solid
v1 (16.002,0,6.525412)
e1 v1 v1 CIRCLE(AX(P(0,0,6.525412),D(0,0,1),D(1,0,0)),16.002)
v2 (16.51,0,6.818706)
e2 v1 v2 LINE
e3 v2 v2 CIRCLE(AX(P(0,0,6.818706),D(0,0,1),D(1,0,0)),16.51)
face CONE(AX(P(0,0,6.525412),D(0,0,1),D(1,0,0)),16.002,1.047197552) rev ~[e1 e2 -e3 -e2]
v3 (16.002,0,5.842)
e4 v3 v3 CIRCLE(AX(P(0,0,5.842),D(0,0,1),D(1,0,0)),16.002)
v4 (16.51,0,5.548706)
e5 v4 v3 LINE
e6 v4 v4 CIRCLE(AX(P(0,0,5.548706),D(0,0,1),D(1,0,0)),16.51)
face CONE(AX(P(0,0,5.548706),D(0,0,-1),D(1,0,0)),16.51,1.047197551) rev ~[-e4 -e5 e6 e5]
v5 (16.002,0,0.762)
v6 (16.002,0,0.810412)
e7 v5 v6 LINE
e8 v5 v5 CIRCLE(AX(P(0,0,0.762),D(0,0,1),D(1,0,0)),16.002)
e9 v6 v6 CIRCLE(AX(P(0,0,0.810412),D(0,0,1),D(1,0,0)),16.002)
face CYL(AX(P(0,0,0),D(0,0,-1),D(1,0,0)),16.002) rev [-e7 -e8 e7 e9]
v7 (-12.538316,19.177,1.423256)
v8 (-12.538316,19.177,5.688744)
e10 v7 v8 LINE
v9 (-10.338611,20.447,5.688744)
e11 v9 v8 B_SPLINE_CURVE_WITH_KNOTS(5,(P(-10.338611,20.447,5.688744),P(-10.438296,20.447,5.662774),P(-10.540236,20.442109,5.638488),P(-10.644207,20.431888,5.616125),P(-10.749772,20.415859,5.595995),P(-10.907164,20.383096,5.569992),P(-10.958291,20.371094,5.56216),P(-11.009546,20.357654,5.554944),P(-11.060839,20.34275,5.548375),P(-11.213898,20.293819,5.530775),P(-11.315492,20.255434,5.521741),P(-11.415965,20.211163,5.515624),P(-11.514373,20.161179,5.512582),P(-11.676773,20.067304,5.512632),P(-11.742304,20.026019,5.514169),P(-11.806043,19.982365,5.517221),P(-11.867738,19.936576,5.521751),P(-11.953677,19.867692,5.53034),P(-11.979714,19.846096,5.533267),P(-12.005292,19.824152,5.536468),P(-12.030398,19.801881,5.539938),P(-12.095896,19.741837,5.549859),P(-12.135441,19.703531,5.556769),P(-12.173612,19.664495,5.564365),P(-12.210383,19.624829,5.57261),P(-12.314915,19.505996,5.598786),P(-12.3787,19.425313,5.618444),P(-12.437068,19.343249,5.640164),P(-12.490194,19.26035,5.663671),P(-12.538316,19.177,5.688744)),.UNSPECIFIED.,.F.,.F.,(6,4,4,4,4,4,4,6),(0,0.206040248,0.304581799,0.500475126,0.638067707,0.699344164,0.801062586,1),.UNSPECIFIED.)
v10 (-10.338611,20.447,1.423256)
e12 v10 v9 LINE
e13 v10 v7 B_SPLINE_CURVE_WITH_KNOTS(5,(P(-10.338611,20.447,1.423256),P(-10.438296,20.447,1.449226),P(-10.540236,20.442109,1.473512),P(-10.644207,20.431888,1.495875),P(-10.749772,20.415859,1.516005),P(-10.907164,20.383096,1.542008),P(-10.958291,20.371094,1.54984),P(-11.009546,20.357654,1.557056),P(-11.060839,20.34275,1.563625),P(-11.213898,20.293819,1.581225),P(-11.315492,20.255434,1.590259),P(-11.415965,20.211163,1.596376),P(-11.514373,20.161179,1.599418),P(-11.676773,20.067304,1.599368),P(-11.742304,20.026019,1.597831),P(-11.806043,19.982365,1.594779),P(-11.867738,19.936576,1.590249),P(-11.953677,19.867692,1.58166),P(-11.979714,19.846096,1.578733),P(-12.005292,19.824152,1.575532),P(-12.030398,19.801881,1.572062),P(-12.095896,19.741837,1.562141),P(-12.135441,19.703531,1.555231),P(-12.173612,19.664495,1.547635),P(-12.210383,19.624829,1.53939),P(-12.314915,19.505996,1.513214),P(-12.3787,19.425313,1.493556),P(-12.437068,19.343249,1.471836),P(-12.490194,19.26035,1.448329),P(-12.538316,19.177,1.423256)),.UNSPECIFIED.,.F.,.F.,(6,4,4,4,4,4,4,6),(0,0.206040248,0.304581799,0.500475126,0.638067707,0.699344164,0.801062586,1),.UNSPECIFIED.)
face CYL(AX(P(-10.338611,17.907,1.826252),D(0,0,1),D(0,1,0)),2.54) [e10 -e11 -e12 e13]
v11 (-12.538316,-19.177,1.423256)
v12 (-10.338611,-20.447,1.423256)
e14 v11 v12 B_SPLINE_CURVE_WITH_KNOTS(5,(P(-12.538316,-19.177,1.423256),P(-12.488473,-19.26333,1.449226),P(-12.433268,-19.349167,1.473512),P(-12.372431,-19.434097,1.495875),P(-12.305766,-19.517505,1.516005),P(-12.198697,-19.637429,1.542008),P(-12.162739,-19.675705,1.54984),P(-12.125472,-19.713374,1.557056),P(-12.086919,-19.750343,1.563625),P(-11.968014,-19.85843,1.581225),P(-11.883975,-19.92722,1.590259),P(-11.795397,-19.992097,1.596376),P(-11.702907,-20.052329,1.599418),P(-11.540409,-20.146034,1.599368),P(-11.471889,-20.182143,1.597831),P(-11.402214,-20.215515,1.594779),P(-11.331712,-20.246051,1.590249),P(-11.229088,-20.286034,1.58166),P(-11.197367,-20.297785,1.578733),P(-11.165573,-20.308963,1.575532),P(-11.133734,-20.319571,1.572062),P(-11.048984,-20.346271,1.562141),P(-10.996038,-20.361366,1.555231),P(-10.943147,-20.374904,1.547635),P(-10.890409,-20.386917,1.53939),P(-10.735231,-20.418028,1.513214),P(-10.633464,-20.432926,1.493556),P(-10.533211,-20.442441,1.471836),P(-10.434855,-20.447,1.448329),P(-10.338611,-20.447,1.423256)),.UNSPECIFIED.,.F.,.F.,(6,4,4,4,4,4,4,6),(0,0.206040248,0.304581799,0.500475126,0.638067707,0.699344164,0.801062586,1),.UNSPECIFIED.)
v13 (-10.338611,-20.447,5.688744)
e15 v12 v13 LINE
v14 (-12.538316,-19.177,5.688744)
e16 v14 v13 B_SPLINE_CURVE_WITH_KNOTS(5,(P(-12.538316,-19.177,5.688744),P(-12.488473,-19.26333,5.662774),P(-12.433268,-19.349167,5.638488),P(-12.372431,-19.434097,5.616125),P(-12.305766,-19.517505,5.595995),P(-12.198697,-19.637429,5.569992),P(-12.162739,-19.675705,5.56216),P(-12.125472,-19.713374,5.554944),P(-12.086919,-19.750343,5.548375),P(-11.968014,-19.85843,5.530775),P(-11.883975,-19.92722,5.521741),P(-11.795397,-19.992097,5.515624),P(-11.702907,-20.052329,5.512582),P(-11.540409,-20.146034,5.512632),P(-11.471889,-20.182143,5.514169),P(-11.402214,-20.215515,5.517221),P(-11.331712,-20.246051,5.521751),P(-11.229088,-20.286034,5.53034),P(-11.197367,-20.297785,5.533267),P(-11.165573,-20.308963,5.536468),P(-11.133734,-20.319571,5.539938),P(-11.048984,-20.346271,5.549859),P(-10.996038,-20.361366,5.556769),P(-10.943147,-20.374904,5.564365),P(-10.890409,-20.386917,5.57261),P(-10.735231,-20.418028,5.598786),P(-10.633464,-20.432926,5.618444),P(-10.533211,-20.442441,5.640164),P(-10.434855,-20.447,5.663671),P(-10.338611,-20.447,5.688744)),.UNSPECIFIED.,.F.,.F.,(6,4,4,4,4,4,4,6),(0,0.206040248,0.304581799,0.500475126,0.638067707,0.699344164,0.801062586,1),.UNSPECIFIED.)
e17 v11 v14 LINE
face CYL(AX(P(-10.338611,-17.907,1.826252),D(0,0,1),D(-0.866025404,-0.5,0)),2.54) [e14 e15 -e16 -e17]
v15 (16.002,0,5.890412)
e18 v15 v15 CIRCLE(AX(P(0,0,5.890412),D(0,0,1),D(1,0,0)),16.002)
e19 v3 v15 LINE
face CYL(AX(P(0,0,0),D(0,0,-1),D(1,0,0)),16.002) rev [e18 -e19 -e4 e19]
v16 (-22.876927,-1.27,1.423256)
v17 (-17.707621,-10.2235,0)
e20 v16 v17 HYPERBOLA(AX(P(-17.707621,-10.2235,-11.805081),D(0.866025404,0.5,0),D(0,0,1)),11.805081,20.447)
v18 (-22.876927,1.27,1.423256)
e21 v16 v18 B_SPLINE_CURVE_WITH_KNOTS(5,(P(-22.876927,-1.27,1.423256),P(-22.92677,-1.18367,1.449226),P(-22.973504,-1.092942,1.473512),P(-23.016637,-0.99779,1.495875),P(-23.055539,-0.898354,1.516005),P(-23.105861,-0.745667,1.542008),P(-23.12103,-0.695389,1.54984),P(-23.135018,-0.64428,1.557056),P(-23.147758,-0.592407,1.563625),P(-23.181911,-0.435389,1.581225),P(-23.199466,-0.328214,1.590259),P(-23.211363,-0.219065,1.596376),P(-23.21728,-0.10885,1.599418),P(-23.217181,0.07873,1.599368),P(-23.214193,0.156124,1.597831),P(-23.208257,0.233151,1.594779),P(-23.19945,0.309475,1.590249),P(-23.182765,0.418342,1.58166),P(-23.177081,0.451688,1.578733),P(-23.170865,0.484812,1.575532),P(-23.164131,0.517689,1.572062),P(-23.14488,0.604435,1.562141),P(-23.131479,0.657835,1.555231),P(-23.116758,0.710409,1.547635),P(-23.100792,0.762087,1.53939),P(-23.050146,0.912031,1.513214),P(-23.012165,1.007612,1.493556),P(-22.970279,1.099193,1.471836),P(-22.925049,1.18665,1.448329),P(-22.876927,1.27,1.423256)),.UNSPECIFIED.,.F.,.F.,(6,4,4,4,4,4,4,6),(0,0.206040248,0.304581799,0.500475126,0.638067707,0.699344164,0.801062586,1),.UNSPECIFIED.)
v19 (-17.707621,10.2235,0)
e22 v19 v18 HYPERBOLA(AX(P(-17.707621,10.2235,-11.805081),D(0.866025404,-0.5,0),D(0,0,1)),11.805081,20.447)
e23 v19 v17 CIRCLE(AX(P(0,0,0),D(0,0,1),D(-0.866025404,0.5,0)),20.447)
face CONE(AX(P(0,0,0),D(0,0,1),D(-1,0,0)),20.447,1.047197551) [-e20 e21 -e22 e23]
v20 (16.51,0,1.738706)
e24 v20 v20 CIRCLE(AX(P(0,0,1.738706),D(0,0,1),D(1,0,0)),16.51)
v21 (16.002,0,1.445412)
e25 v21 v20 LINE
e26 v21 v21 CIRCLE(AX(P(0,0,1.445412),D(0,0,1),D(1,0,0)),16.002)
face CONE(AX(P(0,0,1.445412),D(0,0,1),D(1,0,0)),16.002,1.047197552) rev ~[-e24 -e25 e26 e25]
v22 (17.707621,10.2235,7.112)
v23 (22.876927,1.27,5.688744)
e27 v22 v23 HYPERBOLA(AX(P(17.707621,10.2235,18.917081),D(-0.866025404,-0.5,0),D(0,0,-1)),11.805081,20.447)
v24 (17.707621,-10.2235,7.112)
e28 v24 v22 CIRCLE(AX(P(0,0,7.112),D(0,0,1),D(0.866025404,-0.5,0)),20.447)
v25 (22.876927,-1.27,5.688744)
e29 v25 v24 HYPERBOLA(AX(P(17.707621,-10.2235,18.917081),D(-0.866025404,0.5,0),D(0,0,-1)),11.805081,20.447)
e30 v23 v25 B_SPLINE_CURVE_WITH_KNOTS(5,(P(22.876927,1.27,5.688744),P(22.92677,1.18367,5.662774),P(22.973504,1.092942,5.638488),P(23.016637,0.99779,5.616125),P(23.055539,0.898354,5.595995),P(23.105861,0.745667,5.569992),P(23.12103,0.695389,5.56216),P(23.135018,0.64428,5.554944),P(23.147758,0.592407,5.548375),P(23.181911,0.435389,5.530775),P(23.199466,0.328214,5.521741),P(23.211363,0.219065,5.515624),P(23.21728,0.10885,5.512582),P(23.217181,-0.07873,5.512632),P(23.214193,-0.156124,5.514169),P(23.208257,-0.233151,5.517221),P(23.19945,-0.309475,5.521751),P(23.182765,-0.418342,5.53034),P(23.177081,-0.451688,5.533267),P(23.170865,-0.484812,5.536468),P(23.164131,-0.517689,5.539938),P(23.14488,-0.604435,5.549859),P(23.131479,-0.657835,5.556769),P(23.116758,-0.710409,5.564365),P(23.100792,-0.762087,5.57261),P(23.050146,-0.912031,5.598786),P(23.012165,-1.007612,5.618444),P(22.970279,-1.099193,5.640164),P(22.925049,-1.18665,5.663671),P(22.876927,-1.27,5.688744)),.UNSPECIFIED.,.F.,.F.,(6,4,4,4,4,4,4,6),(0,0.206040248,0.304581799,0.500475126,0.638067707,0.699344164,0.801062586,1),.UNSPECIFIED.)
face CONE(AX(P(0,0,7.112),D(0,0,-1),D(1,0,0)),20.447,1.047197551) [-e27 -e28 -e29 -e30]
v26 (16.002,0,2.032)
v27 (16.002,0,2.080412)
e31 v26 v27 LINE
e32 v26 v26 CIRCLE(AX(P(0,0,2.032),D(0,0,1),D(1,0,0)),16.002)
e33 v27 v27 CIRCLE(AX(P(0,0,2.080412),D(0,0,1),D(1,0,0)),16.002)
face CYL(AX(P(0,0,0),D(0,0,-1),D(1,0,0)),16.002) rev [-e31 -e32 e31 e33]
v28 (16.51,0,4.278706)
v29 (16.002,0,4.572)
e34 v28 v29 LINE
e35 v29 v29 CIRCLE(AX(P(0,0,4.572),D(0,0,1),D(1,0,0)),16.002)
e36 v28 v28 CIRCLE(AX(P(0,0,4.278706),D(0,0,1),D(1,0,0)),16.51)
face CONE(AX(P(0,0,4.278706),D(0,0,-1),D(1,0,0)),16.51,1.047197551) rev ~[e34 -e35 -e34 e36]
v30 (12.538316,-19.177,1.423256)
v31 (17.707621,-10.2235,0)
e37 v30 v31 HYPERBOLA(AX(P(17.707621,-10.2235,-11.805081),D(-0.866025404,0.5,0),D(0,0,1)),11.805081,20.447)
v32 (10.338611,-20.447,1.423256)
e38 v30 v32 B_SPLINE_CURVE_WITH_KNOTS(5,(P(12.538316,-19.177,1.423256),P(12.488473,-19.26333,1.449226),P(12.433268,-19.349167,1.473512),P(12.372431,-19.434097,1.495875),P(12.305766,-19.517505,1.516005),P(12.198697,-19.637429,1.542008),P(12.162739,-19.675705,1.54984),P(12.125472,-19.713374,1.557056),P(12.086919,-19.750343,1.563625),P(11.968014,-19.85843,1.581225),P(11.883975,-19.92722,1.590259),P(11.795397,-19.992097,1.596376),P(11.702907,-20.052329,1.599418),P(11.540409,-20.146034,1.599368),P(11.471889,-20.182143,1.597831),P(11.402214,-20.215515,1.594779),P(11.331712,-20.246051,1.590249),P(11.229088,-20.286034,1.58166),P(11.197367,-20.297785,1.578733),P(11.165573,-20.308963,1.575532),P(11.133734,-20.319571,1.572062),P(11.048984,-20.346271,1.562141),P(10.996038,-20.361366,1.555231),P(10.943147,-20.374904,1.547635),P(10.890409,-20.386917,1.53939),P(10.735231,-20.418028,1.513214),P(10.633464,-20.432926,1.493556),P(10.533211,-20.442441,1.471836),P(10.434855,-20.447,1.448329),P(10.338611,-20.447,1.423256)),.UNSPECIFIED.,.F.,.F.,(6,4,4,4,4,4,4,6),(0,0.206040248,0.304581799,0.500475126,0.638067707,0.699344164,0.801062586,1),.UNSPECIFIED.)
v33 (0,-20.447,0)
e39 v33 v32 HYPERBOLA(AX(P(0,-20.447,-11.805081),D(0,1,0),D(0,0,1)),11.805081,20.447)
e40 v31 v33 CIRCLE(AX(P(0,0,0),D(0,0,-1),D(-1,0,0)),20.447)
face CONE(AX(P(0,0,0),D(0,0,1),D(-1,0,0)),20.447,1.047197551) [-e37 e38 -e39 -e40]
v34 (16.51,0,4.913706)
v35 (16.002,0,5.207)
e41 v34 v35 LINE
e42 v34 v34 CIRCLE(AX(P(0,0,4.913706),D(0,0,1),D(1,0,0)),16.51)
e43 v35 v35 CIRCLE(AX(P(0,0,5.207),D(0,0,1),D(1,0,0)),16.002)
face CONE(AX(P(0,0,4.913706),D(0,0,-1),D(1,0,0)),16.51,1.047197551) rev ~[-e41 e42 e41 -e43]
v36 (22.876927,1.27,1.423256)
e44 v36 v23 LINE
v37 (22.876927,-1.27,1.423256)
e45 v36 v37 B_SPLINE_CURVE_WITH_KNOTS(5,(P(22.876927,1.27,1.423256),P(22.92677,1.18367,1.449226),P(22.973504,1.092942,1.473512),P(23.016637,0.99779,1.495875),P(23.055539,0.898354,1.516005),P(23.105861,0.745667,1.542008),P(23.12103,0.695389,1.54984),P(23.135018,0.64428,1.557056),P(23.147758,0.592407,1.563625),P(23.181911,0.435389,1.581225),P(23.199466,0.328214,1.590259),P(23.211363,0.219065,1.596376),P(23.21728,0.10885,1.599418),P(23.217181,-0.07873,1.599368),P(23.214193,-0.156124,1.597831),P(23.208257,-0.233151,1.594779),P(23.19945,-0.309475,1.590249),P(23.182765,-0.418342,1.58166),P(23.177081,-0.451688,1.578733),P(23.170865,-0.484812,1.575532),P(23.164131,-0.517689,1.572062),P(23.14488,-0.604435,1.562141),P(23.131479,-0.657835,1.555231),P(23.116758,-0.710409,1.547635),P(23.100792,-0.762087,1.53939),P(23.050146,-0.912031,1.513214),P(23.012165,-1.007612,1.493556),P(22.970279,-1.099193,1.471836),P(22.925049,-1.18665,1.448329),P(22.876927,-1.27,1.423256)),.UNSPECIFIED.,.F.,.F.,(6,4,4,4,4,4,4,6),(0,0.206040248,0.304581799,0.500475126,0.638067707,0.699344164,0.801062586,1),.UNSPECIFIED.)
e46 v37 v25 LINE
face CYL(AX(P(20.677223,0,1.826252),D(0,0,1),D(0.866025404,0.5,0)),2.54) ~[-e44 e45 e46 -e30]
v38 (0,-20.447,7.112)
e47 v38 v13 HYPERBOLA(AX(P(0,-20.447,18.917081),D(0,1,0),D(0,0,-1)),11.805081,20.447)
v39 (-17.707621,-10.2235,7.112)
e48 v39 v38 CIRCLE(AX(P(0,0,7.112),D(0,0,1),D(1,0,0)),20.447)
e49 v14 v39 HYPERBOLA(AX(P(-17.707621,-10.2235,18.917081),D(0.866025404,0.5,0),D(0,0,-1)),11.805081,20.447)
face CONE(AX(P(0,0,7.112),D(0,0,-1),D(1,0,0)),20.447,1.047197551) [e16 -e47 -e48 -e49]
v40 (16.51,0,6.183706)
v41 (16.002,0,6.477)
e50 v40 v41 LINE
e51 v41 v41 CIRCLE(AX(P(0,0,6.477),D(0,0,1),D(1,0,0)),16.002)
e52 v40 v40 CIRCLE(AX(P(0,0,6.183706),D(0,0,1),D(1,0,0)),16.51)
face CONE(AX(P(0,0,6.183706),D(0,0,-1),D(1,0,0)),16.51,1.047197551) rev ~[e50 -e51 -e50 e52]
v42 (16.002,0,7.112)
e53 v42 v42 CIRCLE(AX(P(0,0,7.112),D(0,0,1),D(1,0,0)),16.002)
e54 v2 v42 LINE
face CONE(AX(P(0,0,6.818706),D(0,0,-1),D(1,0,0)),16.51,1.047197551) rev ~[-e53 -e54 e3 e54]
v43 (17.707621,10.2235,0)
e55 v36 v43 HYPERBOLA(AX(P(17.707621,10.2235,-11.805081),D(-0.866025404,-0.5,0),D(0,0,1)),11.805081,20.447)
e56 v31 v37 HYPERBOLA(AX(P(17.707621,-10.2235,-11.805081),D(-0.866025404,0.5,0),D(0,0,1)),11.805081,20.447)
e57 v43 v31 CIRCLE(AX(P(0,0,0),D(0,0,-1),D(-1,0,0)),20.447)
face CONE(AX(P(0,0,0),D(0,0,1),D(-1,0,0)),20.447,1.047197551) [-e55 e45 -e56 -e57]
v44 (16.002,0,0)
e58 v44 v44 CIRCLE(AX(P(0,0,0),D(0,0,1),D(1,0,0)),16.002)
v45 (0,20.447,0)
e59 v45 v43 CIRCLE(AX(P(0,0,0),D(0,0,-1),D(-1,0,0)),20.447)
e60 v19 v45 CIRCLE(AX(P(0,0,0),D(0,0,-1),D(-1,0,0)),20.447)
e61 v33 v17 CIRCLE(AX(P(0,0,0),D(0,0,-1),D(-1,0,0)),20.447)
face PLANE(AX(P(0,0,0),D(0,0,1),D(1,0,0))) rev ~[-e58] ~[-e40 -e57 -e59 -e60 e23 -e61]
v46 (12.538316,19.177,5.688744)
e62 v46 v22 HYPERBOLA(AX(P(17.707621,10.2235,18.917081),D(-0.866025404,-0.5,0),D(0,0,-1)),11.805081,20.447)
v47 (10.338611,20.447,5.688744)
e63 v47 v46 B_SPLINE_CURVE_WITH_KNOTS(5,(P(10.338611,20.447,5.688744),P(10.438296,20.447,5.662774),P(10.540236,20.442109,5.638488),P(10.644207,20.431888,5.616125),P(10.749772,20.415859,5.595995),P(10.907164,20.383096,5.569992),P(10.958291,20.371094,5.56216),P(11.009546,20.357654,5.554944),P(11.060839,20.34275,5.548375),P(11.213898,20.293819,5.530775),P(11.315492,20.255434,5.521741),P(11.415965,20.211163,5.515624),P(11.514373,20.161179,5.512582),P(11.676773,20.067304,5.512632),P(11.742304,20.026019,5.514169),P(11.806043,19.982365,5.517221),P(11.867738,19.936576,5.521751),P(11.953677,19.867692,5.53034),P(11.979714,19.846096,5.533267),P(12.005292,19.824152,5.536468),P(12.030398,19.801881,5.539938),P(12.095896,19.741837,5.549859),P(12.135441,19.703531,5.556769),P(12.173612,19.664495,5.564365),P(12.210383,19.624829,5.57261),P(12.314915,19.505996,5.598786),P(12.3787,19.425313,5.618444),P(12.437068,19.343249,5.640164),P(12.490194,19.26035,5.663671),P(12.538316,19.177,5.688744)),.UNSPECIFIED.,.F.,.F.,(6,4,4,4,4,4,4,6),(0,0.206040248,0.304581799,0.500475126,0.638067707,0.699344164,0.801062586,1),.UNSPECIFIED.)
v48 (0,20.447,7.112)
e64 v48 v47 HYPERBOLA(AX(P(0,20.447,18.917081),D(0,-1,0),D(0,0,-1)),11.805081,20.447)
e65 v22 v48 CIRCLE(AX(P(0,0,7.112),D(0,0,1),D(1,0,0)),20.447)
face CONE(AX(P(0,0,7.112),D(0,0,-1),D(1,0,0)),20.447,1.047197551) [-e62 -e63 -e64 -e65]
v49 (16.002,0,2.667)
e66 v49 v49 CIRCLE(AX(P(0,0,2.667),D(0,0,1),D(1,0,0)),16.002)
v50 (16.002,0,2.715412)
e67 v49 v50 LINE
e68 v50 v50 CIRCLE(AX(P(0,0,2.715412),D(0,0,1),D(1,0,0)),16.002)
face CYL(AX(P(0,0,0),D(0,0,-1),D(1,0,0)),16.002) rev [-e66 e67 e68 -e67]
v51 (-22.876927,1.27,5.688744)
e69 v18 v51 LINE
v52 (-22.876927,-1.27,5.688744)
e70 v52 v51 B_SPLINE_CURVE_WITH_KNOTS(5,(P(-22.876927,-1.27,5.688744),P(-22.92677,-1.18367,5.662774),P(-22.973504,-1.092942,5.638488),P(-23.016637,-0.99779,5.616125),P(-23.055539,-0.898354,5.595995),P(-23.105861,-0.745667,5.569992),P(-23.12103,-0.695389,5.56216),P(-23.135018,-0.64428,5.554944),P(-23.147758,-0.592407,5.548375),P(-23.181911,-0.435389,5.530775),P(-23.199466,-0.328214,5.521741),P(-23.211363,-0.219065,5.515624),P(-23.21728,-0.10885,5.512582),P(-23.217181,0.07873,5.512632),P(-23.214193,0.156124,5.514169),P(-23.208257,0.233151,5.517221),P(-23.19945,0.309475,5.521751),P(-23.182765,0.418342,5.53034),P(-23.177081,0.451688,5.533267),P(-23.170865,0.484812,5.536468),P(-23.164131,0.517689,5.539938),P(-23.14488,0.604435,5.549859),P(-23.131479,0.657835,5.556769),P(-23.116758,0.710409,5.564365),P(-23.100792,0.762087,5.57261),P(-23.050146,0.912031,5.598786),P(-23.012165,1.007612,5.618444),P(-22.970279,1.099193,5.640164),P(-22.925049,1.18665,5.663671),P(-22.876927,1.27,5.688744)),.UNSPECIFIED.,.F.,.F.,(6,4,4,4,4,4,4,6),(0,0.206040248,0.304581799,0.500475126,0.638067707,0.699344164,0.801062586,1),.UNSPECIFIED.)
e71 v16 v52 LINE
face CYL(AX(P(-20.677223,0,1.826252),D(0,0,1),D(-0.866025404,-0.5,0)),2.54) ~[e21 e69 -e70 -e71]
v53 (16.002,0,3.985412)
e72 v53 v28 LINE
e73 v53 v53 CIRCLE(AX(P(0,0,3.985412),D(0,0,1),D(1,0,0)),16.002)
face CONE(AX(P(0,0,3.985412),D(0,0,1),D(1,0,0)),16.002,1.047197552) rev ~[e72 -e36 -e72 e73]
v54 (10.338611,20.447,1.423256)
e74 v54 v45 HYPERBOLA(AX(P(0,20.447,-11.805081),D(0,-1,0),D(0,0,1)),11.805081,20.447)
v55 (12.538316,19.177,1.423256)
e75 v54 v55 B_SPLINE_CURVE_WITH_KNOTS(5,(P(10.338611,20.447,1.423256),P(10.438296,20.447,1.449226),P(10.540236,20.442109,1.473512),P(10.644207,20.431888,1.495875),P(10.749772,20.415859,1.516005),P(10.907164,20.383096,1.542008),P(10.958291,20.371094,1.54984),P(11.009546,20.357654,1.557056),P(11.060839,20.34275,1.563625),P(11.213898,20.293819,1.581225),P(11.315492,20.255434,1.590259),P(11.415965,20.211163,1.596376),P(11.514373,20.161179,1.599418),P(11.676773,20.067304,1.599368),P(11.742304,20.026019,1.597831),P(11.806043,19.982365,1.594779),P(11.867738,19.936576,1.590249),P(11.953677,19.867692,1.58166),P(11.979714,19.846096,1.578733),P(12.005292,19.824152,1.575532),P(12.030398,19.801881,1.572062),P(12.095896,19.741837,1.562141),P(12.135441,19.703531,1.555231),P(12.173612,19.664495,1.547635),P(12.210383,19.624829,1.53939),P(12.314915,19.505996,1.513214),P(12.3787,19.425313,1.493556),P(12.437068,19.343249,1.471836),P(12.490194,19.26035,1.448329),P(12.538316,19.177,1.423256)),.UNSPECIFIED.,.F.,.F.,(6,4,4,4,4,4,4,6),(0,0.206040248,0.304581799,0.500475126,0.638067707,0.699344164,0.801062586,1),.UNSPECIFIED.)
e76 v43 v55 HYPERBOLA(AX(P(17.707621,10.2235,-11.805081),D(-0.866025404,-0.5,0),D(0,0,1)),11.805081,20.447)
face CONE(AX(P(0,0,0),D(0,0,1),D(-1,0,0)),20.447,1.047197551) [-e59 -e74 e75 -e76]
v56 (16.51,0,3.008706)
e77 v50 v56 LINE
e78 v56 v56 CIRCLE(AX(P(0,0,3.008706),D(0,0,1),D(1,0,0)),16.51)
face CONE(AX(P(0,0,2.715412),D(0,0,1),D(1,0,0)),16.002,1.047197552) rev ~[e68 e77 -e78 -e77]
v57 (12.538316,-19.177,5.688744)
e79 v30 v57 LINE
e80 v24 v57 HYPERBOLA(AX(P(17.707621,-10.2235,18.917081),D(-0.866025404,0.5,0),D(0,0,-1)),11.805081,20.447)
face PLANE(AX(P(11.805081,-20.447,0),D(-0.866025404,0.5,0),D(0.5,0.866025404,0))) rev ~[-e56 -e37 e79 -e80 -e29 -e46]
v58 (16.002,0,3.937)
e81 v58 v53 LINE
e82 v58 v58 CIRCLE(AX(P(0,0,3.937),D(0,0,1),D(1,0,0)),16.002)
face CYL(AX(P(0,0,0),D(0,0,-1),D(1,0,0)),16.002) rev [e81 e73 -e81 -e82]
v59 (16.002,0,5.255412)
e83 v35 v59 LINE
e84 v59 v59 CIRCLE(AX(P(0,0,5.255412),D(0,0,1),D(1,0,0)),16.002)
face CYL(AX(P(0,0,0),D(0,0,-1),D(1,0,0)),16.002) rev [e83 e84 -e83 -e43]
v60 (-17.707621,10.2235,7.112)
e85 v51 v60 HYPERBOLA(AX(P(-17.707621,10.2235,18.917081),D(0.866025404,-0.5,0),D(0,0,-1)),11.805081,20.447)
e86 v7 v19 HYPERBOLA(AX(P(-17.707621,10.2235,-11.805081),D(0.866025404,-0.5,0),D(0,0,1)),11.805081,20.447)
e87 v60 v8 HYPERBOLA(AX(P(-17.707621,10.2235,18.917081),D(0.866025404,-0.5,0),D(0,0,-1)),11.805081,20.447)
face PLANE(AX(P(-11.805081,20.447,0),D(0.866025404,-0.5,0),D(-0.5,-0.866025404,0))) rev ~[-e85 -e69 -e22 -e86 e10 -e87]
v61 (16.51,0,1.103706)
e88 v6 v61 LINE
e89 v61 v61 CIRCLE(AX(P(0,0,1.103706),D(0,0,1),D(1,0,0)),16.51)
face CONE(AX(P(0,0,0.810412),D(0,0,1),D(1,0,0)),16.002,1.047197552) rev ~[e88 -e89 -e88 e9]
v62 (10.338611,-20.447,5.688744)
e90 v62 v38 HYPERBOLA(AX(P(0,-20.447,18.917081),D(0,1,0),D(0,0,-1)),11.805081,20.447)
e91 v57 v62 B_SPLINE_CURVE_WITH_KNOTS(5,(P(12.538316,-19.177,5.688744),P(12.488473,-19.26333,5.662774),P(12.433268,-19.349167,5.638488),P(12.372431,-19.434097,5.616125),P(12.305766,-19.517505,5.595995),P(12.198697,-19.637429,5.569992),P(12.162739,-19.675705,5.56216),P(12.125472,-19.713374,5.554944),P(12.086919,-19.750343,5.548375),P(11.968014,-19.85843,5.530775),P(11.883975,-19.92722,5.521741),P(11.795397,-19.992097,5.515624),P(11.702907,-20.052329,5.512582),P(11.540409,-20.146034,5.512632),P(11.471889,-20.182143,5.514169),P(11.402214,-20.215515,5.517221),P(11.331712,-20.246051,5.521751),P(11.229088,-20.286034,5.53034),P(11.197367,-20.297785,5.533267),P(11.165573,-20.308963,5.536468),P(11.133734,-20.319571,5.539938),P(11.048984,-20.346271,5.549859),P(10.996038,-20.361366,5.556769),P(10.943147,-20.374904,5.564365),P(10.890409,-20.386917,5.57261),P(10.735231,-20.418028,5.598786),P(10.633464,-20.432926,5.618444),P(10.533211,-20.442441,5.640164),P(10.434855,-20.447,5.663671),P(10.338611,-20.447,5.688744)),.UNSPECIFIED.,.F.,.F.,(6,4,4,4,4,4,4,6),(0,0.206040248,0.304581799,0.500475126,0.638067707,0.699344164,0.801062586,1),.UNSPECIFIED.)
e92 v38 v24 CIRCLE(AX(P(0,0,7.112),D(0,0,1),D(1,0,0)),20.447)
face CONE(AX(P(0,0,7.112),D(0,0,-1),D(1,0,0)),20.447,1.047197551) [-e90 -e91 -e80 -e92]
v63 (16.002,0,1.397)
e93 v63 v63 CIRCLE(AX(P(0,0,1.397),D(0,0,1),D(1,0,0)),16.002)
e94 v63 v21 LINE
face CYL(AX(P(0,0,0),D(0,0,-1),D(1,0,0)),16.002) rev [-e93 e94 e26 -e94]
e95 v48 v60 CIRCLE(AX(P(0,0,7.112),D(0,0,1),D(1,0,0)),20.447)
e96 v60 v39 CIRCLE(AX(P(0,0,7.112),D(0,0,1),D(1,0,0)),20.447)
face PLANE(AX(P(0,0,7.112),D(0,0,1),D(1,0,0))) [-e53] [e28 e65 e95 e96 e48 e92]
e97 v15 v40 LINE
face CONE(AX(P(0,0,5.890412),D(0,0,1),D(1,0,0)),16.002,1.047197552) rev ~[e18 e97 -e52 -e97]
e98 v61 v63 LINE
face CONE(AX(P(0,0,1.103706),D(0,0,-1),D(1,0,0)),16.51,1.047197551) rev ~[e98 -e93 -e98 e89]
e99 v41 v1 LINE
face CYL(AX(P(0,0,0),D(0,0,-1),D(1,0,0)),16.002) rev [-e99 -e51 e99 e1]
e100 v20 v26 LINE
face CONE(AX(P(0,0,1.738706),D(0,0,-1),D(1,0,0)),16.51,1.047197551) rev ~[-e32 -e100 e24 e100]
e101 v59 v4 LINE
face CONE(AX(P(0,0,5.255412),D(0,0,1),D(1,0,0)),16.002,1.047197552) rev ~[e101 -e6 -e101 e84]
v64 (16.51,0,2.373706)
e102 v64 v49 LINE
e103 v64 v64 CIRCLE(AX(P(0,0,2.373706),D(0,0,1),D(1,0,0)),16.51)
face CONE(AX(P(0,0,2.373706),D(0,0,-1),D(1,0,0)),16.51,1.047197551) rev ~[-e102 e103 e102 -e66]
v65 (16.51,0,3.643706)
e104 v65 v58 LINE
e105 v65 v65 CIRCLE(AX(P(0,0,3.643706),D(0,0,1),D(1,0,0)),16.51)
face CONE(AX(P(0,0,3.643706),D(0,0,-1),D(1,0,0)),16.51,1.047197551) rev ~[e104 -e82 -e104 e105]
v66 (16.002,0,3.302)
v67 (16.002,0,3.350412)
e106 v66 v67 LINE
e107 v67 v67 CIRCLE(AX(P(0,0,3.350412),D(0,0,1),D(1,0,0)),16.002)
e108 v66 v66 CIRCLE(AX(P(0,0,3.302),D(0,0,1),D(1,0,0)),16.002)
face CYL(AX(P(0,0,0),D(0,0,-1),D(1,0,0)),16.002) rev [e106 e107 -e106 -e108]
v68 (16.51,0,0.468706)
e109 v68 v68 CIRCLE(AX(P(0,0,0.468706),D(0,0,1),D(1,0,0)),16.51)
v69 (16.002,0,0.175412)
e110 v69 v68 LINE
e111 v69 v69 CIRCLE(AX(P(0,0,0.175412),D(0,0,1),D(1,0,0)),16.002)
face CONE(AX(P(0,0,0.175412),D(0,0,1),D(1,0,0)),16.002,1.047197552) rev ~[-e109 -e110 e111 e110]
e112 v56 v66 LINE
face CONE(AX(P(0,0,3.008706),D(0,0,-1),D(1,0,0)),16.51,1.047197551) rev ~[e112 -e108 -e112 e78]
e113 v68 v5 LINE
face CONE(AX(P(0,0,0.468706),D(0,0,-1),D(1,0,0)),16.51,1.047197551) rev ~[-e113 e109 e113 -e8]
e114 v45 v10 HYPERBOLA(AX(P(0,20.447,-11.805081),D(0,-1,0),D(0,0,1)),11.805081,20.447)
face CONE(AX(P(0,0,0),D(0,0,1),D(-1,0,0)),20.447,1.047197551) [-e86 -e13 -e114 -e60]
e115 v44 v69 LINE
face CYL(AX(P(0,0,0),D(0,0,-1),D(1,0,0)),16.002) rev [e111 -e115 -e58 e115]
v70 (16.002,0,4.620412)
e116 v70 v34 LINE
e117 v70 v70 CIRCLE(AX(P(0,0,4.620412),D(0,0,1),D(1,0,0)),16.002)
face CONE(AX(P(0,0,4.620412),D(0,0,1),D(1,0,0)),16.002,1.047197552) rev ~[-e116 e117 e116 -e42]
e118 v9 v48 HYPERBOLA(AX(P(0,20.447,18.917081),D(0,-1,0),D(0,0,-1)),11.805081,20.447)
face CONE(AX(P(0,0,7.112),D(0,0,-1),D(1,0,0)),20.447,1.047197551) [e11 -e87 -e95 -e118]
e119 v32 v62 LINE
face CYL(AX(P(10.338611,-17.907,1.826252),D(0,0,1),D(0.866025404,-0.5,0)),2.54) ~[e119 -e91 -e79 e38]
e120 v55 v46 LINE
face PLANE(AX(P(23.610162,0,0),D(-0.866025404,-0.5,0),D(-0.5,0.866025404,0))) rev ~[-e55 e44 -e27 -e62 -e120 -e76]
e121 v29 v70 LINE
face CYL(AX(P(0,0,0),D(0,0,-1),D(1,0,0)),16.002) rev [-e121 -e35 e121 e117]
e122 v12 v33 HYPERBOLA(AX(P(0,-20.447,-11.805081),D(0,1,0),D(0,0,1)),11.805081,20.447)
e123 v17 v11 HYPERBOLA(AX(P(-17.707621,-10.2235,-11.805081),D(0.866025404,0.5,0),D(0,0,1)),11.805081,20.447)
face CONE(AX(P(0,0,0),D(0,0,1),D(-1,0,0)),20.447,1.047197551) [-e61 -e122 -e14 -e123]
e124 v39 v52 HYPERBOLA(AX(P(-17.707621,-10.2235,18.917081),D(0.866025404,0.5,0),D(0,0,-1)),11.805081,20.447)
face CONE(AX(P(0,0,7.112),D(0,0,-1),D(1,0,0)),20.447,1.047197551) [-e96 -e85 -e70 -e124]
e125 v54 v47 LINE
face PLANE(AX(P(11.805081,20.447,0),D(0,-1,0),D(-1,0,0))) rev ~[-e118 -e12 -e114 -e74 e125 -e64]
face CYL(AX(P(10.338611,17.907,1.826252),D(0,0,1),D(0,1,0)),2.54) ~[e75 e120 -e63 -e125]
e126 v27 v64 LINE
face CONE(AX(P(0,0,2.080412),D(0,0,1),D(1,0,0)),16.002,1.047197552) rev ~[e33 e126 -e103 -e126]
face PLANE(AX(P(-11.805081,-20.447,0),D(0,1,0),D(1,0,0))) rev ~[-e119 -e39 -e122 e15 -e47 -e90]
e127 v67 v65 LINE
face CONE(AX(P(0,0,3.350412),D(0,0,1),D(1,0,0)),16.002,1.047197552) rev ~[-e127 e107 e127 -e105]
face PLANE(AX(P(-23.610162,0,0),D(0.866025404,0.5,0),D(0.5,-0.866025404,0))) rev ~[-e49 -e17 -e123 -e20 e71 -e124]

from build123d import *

# Parameters (mm, degrees)
SKETCH1_R          = 16.002
EXTRUDE1_DEPTH     = 7.112
SKETCH2_OUTSIDE_W  = 89.894
SKETCH2_OUTSIDE_H  = 83.568
SKETCH2_OUTSIDE_R  = 20.447
CUT_EXTRUDE1_DEPTH = 8.112
CUT_EXTRUDE1_DRAFT = -60
SKETCH3_OUTSIDE_W  = 89.894
SKETCH3_OUTSIDE_H  = 83.568
SKETCH3_OUTSIDE_R  = 20.447
CUT_EXTRUDE2_DEPTH = 8.112
CUT_EXTRUDE2_DRAFT = -60
FILLET1_R          = 2.54
LPATTERN1_COUNT    = 11
LPATTERN1_PITCH    = 0.635


with BuildPart() as part:
    # Sketch1 → Extrude1 (new body)
    with BuildSketch(Plane.XY):
        Polygon((-23.610161908, 0), (-11.805080954, -20.447), (11.805080954, -20.447), (23.610161908, 0), (11.805080954, 20.447), (-11.805080954, 20.447), align=None)
        Circle(SKETCH1_R, mode=Mode.SUBTRACT)
    extrude(amount=EXTRUDE1_DEPTH)


with BuildPart() as cut_extrude1_tool:
    # Sketch2 outside → Cut-Extrude1 (with draft: the straight prism first)
    with BuildSketch(Plane.XY.offset(7.112)):
        Rectangle(SKETCH2_OUTSIDE_W, SKETCH2_OUTSIDE_H)
        Circle(SKETCH2_OUTSIDE_R, mode=Mode.SUBTRACT)
    extrude(amount=-CUT_EXTRUDE1_DEPTH)
    # Cut-Extrude1: the draft: its side faces are tilted about the plane it starts from
    cut_extrude1_sides = [cut_extrude1_tool.faces().sort_by_distance(p)[0] for p in [
        (0, -41.784, 3.056),
        (44.947, 0, 3.056),
        (0, 41.784, 3.056),
        (-44.947, 0, 3.056),
        (-20.447, 0, 3.056),
    ]]
    draft(cut_extrude1_sides, Plane.XY.offset(7.112), CUT_EXTRUDE1_DRAFT)


with BuildPart() as part_1:
    add(part.part)

    # Cut-Extrude1: cut by cut_extrude1_tool
    add(cut_extrude1_tool.part, mode=Mode.SUBTRACT)


with BuildPart() as cut_extrude2_tool:
    # Sketch3 outside → Cut-Extrude2 (with draft: the straight prism first)
    with BuildSketch(Plane(origin=(0, 0, 0), x_dir=(-1, 0, 0), z_dir=(0, 0, -1))):
        Rectangle(SKETCH3_OUTSIDE_W, SKETCH3_OUTSIDE_H)
        Circle(SKETCH3_OUTSIDE_R, mode=Mode.SUBTRACT)
    extrude(amount=-CUT_EXTRUDE2_DEPTH)
    # Cut-Extrude2: the draft: its side faces are tilted about the plane it starts from
    cut_extrude2_sides = [cut_extrude2_tool.faces().sort_by_distance(p)[0] for p in [
        (0, -41.784, 4.056),
        (-44.947, 0, 4.056),
        (0, 41.784, 4.056),
        (44.947, 0, 4.056),
        (20.447, 0, 4.056),
    ]]
    draft(cut_extrude2_sides, Plane(origin=(0, 0, 0), x_dir=(-1, 0, 0), z_dir=(0, 0, -1)), CUT_EXTRUDE2_DRAFT)


with BuildPart() as part_2:
    add(part_1.part)

    # Cut-Extrude2: cut by cut_extrude2_tool
    add(cut_extrude2_tool.part, mode=Mode.SUBTRACT)

    # Fillet1
    fillet1_edges = [part_2.edges().sort_by_distance(p)[0] for p in [
        (23.610161908, 0, 3.556),
        (11.805080954, -20.447, 3.556),
        (-11.805080954, -20.447, 3.556),
        (-23.610161908, 0, 3.556),
        (-11.805080954, 20.447, 3.556),
        (11.805080954, 20.447, 3.556),
    ]]
    fillet(fillet1_edges, radius=FILLET1_R)

    # Sketch4 → Cut-Revolve1 (revolve, cut)
    with BuildSketch(Plane(origin=(0, 0, 0), x_dir=(1, 0, 0), z_dir=(0, 1, 0)), mode=Mode.PRIVATE) as cut_revolve1_sk:
        Polygon((-16.002, -7.112), (-16.002, -6.525412127), (-16.51, -6.818706063), align=None)
    cut_revolve1 = revolve(cut_revolve1_sk.sketch.rotate(Axis((0, 0, 0), (0, 0, 1)), 180), axis=Axis((0, 0, 0), (0, 0, 1)), mode=Mode.SUBTRACT)  # turned: the seam where the file's is

    # LPattern1: Cut-Revolve1 ×11
    with Locations(*[(0, 0, -i * LPATTERN1_PITCH) for i in range(1, LPATTERN1_COUNT)]):
        add(cut_revolve1, mode=Mode.SUBTRACT)


solid = part_2.part
